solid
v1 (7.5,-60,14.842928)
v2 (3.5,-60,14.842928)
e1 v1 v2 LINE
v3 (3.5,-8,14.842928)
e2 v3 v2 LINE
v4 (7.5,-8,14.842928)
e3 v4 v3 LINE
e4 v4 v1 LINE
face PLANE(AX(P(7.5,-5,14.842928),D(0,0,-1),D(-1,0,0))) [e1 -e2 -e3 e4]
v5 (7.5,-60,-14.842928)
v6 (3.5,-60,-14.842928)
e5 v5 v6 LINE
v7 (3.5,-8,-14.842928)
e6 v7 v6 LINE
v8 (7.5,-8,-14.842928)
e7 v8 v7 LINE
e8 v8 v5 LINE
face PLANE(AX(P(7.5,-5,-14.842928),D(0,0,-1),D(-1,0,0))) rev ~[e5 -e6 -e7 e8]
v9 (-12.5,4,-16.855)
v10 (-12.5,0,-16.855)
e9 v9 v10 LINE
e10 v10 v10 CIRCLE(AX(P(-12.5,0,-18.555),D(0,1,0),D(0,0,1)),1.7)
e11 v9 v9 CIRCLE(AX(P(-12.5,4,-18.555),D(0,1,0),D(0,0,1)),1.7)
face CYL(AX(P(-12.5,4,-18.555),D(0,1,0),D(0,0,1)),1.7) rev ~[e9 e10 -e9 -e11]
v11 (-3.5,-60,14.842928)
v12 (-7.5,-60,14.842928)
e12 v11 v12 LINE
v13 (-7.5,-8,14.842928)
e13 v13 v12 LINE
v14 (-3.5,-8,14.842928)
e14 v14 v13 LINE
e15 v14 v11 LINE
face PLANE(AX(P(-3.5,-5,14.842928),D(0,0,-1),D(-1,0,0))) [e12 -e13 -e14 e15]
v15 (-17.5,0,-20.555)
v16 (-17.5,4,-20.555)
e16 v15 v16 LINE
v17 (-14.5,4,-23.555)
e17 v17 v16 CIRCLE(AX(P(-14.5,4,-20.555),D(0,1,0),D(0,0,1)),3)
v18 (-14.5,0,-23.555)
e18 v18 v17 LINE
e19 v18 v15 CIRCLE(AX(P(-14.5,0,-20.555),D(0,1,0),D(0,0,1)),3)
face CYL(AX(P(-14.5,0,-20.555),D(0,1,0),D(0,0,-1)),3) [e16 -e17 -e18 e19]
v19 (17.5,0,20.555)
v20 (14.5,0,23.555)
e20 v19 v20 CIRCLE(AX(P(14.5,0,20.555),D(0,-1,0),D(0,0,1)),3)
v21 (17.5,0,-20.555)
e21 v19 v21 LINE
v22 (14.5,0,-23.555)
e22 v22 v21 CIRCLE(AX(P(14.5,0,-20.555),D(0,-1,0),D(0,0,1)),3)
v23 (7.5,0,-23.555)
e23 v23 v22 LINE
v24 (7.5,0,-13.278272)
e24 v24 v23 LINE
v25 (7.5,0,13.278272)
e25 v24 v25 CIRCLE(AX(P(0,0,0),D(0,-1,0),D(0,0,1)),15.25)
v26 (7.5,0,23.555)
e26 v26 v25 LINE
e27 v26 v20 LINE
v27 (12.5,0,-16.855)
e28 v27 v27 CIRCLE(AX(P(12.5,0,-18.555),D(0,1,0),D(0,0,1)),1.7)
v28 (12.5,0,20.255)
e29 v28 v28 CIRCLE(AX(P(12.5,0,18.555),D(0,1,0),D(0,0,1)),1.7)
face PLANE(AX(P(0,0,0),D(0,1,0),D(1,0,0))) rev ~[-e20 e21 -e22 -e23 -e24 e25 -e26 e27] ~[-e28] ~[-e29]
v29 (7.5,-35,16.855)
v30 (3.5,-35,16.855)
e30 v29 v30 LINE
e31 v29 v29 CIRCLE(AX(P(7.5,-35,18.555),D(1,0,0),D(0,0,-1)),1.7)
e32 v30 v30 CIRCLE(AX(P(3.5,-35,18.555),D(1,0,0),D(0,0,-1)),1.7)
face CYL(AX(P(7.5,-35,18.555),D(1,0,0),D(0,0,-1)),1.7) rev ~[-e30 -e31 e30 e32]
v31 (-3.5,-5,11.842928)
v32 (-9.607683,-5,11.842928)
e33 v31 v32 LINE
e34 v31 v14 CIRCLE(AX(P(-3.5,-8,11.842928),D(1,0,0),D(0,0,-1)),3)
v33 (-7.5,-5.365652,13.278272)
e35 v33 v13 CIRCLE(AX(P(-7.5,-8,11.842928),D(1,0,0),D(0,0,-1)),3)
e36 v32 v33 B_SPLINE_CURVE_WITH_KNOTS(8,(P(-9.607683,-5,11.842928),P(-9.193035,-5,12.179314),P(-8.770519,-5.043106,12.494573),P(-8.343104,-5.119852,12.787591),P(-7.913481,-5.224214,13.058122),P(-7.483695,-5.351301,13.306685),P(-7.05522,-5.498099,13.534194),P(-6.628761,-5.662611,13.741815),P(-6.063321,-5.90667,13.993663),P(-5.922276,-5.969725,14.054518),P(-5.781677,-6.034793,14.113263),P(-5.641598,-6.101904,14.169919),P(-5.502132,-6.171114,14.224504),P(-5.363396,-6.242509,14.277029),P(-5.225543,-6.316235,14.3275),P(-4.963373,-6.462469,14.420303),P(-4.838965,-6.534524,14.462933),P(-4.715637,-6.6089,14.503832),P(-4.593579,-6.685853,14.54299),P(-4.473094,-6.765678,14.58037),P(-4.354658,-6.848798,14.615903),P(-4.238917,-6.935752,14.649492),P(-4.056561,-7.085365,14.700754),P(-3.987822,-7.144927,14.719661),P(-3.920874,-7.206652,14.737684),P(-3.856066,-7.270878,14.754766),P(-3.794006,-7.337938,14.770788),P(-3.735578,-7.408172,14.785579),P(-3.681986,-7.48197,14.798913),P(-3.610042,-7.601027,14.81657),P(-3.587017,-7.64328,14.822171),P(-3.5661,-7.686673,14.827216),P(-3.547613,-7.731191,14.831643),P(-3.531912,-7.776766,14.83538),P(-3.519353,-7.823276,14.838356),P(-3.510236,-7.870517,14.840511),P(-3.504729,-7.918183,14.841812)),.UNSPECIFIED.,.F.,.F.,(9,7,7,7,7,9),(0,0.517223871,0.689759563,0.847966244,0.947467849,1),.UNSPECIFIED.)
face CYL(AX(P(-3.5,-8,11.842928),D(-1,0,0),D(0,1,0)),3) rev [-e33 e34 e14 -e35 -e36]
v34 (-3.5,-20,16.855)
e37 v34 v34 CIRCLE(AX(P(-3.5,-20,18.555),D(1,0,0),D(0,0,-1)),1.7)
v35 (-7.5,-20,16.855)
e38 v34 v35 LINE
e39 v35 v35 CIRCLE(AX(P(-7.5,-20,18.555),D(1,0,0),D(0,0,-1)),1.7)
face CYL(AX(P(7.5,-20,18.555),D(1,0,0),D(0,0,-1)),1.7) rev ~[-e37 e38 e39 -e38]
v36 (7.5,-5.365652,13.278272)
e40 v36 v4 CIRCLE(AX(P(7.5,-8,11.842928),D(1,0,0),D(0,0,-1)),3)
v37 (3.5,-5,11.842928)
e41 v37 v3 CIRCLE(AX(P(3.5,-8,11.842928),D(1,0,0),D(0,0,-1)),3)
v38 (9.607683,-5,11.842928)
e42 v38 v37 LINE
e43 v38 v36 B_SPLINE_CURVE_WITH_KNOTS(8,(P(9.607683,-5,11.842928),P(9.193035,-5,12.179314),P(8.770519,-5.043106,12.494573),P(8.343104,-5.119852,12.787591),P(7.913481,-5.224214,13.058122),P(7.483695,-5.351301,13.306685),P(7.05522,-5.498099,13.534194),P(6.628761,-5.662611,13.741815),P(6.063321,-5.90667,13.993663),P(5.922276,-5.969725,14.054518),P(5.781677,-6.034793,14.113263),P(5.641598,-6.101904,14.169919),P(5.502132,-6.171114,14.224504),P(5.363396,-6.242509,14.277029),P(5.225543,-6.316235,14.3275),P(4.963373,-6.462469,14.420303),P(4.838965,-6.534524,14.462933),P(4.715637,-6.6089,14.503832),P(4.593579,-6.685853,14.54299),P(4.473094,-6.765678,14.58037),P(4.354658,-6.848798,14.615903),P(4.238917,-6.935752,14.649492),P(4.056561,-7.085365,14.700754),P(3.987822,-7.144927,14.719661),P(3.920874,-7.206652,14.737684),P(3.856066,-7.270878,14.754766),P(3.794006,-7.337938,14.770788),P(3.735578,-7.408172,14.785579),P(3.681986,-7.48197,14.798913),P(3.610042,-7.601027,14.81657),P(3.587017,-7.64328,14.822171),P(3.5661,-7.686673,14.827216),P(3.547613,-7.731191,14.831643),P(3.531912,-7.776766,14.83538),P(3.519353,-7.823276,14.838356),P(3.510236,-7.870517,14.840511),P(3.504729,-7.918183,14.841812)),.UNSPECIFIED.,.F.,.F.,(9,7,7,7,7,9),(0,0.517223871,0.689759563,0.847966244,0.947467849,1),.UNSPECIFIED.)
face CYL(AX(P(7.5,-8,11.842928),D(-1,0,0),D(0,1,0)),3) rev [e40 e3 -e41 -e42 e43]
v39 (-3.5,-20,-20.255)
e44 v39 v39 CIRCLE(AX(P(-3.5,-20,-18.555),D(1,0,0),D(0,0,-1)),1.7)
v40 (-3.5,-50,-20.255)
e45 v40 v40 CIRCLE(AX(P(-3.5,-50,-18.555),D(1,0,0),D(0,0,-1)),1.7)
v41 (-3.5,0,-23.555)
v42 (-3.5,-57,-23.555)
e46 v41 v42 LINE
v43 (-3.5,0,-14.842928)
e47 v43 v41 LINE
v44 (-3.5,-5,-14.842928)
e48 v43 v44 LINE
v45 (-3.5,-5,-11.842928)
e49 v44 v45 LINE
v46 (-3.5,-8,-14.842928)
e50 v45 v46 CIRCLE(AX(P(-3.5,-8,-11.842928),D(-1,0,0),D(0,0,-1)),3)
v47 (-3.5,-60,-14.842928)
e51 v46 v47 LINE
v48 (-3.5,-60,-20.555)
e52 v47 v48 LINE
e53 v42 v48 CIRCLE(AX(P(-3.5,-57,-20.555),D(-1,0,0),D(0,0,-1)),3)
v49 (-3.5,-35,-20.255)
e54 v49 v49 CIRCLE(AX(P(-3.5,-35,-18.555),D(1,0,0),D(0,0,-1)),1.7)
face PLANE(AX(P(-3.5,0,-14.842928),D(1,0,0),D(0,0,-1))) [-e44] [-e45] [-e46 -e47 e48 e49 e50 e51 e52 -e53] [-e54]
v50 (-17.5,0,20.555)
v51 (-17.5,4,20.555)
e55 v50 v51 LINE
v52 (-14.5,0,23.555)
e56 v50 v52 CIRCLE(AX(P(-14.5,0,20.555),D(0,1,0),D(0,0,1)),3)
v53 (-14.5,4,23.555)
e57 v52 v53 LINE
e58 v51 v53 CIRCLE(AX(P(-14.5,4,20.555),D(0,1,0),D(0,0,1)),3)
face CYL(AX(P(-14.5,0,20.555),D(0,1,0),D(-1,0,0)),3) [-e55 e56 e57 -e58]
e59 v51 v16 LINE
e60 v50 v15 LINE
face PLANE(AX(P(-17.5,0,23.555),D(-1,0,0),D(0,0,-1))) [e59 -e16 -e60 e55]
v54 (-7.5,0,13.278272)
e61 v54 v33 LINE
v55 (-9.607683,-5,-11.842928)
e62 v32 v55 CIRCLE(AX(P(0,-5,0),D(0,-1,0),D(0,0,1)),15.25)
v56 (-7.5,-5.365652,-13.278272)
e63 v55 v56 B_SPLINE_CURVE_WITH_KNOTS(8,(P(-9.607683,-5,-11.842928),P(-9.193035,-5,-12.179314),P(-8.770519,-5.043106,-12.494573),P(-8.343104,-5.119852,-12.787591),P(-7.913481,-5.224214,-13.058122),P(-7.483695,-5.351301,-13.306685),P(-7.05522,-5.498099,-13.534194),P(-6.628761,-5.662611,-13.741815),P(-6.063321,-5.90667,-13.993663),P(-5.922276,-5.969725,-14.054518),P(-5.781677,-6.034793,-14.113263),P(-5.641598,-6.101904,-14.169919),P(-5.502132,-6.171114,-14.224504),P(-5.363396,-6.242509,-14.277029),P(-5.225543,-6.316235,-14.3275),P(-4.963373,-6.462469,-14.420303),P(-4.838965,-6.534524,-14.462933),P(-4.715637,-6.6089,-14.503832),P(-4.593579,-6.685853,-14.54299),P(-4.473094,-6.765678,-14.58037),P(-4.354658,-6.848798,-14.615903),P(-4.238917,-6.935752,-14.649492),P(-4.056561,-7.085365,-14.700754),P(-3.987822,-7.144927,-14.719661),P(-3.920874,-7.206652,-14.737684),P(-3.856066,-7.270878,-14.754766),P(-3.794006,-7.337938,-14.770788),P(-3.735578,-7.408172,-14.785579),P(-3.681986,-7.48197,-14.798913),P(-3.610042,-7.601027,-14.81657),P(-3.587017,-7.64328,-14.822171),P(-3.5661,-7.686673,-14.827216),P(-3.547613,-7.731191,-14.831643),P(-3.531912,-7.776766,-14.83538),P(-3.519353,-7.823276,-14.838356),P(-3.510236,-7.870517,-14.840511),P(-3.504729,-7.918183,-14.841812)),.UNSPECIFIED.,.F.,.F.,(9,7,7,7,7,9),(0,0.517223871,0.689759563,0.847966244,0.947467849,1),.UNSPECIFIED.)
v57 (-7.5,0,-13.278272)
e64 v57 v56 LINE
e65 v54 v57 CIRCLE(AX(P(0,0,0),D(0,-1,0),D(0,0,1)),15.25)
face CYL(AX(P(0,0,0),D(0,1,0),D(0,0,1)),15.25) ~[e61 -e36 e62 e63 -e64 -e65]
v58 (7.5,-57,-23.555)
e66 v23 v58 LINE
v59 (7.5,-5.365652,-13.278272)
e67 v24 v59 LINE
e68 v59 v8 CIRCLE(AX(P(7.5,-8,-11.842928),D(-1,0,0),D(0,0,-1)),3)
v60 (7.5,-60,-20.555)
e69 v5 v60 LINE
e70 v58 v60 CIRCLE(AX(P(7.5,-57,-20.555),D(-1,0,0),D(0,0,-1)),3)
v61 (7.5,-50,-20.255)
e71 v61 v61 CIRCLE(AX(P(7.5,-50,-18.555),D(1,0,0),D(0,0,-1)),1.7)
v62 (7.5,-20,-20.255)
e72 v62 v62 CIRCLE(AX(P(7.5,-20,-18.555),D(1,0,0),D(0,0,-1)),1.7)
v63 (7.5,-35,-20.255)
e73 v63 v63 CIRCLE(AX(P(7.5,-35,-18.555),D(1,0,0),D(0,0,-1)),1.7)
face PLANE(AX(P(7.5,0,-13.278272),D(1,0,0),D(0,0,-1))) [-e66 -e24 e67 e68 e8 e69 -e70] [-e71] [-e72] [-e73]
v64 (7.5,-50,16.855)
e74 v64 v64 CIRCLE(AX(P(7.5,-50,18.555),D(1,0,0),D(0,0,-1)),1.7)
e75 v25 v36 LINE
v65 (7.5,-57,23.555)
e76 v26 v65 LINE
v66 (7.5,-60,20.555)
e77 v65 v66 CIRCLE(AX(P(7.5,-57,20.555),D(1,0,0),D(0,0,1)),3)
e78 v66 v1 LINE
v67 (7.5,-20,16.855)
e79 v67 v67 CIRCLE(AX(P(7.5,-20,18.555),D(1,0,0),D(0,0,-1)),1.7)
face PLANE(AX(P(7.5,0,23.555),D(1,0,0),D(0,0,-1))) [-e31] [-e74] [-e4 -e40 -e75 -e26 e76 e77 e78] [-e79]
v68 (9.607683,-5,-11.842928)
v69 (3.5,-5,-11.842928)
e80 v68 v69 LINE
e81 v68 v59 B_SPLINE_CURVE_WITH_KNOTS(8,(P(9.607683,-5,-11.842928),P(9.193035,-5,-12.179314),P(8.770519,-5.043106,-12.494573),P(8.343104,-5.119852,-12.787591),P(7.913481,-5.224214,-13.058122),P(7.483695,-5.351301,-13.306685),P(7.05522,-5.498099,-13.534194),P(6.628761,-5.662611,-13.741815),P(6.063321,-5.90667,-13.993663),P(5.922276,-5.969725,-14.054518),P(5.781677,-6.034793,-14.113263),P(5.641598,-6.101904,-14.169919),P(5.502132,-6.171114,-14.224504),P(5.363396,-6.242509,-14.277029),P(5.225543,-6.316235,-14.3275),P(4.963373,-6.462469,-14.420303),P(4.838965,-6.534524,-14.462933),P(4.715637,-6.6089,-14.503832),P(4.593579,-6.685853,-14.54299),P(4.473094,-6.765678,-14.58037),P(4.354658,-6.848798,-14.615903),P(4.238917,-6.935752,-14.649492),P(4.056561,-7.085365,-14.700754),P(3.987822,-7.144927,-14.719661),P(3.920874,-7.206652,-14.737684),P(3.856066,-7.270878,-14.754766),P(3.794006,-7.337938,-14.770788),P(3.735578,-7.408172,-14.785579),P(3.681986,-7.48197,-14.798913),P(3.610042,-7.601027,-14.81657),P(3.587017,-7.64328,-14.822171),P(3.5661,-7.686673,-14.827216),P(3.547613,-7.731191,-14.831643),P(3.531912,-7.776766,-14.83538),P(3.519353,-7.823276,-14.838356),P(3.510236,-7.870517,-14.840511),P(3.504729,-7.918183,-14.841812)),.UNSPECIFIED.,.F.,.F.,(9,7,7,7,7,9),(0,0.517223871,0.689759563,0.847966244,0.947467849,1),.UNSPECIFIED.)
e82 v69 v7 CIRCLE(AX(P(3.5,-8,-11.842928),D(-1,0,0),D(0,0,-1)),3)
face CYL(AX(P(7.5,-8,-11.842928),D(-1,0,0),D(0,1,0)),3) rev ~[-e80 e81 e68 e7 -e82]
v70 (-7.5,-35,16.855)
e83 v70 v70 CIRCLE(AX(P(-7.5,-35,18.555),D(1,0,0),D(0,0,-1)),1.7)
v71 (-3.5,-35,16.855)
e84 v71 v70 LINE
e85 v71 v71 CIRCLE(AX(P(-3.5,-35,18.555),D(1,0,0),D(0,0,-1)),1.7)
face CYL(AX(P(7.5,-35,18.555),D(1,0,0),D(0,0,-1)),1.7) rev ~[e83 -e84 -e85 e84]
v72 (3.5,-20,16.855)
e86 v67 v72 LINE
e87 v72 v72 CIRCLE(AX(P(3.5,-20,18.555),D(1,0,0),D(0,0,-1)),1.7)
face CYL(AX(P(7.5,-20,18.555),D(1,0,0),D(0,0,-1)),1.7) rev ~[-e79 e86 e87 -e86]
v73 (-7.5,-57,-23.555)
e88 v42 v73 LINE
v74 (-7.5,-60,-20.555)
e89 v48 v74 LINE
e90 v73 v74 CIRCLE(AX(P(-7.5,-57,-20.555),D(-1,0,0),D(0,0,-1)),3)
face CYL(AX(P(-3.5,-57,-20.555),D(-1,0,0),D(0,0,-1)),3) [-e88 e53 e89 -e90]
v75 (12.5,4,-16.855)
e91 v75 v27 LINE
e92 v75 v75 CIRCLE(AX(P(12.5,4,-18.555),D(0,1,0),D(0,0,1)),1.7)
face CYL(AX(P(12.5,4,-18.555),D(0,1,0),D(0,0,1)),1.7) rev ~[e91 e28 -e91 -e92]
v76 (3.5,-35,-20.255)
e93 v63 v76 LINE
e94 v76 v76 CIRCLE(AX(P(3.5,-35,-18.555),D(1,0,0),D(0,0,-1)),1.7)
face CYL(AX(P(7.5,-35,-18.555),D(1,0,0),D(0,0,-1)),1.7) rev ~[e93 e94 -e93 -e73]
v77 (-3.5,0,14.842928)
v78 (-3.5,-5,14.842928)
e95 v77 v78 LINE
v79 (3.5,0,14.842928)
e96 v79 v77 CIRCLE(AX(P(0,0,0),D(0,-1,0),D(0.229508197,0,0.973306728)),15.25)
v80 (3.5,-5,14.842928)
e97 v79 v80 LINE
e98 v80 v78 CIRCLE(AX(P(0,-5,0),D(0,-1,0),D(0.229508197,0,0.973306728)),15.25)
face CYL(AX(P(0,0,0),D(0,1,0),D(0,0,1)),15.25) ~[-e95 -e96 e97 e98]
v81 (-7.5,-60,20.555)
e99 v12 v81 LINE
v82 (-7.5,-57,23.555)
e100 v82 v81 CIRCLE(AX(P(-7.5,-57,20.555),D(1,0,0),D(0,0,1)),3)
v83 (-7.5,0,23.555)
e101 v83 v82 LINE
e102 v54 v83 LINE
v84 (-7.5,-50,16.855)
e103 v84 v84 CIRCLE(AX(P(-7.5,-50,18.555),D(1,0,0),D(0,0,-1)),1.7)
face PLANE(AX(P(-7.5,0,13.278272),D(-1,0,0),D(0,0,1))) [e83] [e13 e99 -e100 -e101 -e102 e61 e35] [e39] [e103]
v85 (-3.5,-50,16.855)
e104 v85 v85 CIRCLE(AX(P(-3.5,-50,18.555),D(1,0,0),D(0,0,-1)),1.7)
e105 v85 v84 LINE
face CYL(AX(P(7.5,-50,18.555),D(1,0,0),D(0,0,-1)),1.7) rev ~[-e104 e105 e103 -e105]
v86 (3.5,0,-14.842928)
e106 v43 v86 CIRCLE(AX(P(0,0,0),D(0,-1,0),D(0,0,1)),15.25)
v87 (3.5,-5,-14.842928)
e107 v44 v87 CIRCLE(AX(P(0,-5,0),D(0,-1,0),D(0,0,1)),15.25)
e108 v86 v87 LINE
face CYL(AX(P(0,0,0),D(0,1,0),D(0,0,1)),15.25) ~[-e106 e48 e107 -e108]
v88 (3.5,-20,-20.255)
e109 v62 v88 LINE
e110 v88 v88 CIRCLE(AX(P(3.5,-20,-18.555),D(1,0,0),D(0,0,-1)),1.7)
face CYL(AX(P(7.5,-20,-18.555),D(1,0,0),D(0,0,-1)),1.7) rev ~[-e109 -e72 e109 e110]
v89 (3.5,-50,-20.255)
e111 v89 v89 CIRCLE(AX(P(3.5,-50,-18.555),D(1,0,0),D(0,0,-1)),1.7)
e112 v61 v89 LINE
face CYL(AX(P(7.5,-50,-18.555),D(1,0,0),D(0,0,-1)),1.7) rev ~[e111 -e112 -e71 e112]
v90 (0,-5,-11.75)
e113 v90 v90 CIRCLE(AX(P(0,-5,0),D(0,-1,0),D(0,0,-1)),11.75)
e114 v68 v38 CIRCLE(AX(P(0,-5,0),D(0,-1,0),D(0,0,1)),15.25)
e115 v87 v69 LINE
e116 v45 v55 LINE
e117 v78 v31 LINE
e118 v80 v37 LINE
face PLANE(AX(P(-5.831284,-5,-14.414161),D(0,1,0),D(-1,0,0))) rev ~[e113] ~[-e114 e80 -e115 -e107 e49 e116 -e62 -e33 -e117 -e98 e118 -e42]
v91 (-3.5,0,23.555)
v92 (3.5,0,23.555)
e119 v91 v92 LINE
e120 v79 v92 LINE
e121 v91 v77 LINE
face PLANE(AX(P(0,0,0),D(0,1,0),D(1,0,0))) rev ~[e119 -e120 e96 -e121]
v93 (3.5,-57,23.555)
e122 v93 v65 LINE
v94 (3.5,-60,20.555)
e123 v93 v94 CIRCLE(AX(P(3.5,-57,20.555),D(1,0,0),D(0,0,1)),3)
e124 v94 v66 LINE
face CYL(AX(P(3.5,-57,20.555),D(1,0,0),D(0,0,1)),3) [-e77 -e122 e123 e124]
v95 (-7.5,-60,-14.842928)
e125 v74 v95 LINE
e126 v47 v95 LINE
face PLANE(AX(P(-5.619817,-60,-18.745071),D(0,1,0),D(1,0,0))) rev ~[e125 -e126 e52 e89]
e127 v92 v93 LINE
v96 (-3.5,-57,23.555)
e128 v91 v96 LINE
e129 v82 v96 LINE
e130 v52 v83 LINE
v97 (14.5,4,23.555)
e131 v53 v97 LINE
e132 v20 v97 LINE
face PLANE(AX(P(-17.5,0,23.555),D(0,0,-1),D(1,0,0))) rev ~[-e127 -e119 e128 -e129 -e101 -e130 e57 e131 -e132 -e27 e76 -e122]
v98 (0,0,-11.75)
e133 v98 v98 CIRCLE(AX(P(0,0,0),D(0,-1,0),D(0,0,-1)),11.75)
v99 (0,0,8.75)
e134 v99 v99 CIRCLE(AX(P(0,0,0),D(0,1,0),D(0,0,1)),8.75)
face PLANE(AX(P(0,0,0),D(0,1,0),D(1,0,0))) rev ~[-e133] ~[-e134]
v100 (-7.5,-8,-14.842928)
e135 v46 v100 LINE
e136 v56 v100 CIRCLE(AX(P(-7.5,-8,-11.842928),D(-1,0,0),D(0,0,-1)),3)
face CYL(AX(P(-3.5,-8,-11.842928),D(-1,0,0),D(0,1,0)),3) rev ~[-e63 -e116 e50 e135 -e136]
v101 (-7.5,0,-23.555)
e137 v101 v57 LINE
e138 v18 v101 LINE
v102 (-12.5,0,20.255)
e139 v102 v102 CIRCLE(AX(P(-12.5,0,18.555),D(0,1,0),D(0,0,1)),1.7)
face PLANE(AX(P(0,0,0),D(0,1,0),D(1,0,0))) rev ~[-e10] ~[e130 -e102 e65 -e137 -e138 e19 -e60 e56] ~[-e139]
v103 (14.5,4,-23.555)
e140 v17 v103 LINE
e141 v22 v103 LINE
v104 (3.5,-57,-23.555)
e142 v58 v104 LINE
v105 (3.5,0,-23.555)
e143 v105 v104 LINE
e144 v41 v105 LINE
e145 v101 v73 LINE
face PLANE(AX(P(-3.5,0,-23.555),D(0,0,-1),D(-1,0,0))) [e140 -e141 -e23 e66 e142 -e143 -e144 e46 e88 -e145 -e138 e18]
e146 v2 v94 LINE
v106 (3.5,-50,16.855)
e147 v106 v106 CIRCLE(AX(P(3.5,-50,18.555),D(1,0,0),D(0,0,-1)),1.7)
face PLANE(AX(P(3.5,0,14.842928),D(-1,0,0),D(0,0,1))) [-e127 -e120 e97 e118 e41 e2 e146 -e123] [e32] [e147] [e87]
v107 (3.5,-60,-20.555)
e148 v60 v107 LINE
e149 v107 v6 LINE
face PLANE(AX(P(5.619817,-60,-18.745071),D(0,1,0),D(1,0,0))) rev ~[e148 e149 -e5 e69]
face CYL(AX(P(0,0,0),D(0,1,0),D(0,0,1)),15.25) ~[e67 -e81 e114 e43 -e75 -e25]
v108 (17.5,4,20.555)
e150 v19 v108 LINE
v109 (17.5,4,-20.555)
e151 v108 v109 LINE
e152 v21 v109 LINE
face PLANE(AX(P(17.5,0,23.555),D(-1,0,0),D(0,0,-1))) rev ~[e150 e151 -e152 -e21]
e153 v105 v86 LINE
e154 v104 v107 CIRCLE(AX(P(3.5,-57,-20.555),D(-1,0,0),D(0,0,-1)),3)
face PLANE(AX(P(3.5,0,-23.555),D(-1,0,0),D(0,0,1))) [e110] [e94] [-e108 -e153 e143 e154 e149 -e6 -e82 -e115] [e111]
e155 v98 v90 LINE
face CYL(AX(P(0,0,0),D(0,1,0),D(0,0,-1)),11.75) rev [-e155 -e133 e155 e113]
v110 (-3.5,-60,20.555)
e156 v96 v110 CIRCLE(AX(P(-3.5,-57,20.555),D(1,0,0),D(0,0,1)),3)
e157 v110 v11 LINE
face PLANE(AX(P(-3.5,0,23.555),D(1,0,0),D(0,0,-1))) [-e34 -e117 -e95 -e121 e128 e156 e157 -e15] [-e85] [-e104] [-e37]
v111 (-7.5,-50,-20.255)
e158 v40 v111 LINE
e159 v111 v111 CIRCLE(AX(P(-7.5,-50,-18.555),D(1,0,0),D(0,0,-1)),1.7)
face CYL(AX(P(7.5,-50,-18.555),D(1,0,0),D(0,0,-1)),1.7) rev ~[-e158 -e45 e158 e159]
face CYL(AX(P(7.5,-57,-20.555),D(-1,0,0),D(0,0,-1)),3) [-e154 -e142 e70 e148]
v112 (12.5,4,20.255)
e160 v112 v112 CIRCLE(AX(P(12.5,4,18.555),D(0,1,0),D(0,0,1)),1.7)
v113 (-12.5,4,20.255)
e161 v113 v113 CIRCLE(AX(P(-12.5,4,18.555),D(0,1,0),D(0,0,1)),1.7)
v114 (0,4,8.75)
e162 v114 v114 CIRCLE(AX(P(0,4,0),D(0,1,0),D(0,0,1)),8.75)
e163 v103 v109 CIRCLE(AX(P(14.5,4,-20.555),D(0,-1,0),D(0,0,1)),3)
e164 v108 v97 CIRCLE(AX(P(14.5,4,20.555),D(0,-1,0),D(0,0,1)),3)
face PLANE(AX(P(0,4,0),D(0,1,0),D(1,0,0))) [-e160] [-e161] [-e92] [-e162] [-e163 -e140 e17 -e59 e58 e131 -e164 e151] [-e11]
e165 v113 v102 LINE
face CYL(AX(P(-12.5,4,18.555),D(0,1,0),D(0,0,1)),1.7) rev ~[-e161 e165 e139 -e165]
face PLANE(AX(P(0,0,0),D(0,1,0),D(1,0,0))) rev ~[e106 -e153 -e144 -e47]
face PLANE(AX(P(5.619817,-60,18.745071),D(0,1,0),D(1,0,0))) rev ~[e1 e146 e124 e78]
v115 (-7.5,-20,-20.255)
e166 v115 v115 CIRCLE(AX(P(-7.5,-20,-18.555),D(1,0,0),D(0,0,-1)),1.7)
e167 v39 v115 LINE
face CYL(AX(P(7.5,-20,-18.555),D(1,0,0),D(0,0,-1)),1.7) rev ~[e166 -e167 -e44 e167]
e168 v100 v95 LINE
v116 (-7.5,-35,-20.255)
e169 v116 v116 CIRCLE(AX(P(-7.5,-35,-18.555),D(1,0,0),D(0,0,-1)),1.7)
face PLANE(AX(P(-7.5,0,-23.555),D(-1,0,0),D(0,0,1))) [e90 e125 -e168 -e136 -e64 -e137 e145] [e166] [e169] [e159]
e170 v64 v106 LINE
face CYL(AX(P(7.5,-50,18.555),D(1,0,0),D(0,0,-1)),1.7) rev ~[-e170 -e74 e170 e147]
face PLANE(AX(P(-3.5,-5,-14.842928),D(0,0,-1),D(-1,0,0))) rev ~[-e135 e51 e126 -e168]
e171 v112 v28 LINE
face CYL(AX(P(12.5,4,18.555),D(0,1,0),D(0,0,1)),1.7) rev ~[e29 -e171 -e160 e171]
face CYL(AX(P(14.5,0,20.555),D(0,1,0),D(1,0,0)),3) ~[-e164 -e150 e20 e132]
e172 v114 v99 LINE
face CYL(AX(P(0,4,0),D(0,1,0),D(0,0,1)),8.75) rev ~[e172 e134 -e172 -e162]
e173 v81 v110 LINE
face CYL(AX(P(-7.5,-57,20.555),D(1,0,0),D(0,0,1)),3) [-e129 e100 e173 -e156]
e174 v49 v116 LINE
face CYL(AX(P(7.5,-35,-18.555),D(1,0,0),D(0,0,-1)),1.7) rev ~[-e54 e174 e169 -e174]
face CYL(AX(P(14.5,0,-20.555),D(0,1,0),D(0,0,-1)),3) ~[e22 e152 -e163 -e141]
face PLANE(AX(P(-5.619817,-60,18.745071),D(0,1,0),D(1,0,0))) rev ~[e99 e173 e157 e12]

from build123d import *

# Parameters (mm, degrees)
SKETCH1_W           = 35
SKETCH1_H           = 47.11
BOSS_EXTRUDE1_DEPTH = 4
SKETCH2_R           = 15.25
SKETCH2_R_2         = 11.75
BOSS_EXTRUDE2_DEPTH = 5
BOSS_EXTRUDE3_DEPTH = 60
CUT_EXTRUDE1_START  = -55
CUT_EXTRUDE1_DEPTH  = 55
SKETCH6_R           = 1.7
CUT_EXTRUDE2_DEPTH  = 60
SKETCH7_R           = 8.75
CUT_EXTRUDE3_DEPTH  = 60
FILLET2_R           = 3
FILLET3_R           = 3
SKETCH10_R          = 1.7
CUT_EXTRUDE4_DEPTH  = 71.406590778
FILLET4_R           = 3


with BuildPart() as part:
    # Sketch1 → Boss-Extrude1 (new body)
    with BuildSketch(Plane(origin=(0, 0, 0), x_dir=(1, 0, 0), z_dir=(0, 1, 0))):
        Rectangle(SKETCH1_W, SKETCH1_H)
    extrude(amount=BOSS_EXTRUDE1_DEPTH)

    # Sketch2 → Boss-Extrude2 (add)
    with BuildSketch(Plane.XZ):
        with Locations(Location((0, 0, 0), (0, 0, 90))):
            Circle(SKETCH2_R)
        with Locations(Location((0, 0, 0), (0, 0, 270))):
            Circle(SKETCH2_R_2, mode=Mode.SUBTRACT)
    extrude(amount=BOSS_EXTRUDE2_DEPTH)

    # Sketch3 → Boss-Extrude3 (add)
    with BuildSketch(Plane(origin=(0, 0, 0), x_dir=(-1, 0, 0), z_dir=(0, -1, 0))):
        with BuildLine():
            Line((7.5, 23.555), (7.5, 13.278271725))
            ThreePointArc((7.5, 13.278271725), (5.555361105, 14.202128819), (3.5, 14.842927609))
            Line((3.5, 14.842927609), (3.5, 23.555))
            Line((3.5, 23.555), (7.5, 23.555))
        make_face()
        with BuildLine():
            Line((-7.5, 23.555), (-3.5, 23.555))
            Line((-3.5, 23.555), (-3.5, 14.842927609))
            ThreePointArc((-3.5, 14.842927609), (-5.555361105, 14.202128819), (-7.5, 13.278271725))
            Line((-7.5, 13.278271725), (-7.5, 23.555))
        make_face()
        with BuildLine():
            Line((-7.5, -23.555), (-7.5, -13.278271725))
            ThreePointArc((-7.5, -13.278271725), (-5.555361105, -14.202128819), (-3.5, -14.842927609))
            Line((-3.5, -14.842927609), (-3.5, -23.555))
            Line((-3.5, -23.555), (-7.5, -23.555))
        make_face()
        with BuildLine():
            Line((3.5, -23.555), (3.5, -14.842927609))
            ThreePointArc((3.5, -14.842927609), (5.555361105, -14.202128819), (7.5, -13.278271725))
            Line((7.5, -13.278271725), (7.5, -23.555))
            Line((7.5, -23.555), (3.5, -23.555))
        make_face()
    extrude(amount=BOSS_EXTRUDE3_DEPTH)

    # Sketch5 → Cut-Extrude1 (cut)
    with BuildSketch(Plane.XZ.offset(60).offset(CUT_EXTRUDE1_START)):
        with BuildLine():
            ThreePointArc((-7.5, -13.278271725), (-5.555361105, -14.202128819), (-3.5, -14.842927609))
            Line((-3.5, -14.842927609), (-7.5, -14.842927609))
            Line((-7.5, -14.842927609), (-7.5, -13.278271725))
        make_face()
        with BuildLine():
            Line((7.5, 14.842927609), (3.5, 14.842927609))
            ThreePointArc((3.5, 14.842927609), (5.555361105, 14.202128819), (7.5, 13.278271725))
            Line((7.5, 13.278271725), (7.5, 14.842927609))
        make_face()
        with BuildLine():
            ThreePointArc((3.5, -14.842927609), (5.555361105, -14.202128819), (7.5, -13.278271725))
            Line((7.5, -13.278271725), (7.5, -14.842927609))
            Line((7.5, -14.842927609), (3.5, -14.842927609))
        make_face()
        with BuildLine():
            Line((-3.5, 14.842927609), (-7.5, 14.842927609))
            Line((-7.5, 14.842927609), (-7.5, 13.278271725))
            ThreePointArc((-7.5, 13.278271725), (-5.555361105, 14.202128819), (-3.5, 14.842927609))
        make_face()
    extrude(amount=CUT_EXTRUDE1_DEPTH, mode=Mode.SUBTRACT)

    # Sketch6 → Cut-Extrude2 (cut)
    with BuildSketch(Plane(origin=(7.5, 0, 0), x_dir=(0, 0, -1), z_dir=(1, 0, 0))):
        with Locations((-18.555, -35)):
            Circle(SKETCH6_R)
        with Locations((-18.555, -20)):
            Circle(SKETCH6_R)
        with Locations((-18.555, -50)):
            Circle(SKETCH6_R)
        with Locations((18.555, -50)):
            Circle(SKETCH6_R)
        with Locations((18.555, -35)):
            Circle(SKETCH6_R)
        with Locations((18.555, -20)):
            Circle(SKETCH6_R)
    extrude(amount=-CUT_EXTRUDE2_DEPTH, mode=Mode.SUBTRACT)

    # Sketch7 → Cut-Extrude3 (cut)
    with BuildSketch(Plane(origin=(0, 4, 0), x_dir=(1, 0, 0), z_dir=(0, 1, 0))):
        with Locations(Location((0, 0, 0), (0, 0, 270))):
            Circle(SKETCH7_R)
    extrude(amount=-CUT_EXTRUDE3_DEPTH, mode=Mode.SUBTRACT)

    # Fillet2
    fillet2_edges = [part.edges().sort_by_distance(p)[0] for p in [
        (5.5, -5, -14.842927609),
        (-5.5, -5, -14.842927609),
        (-5.5, -5, 14.842927609),
        (5.5, -5, 14.842927609),
    ]]
    fillet(fillet2_edges, radius=FILLET2_R)

    # Fillet3
    fillet3_edges = [part.edges().sort_by_distance(p)[0] for p in [
        (-5.5, -60, -23.555),
        (5.5, -60, -23.555),
        (5.5, -60, 23.555),
        (-5.5, -60, 23.555),
    ]]
    fillet(fillet3_edges, radius=FILLET3_R)

    # Sketch10 → Cut-Extrude4 (cut, through all)
    with BuildSketch(Plane(origin=(0, 4, 0), x_dir=(1, 0, 0), z_dir=(0, 1, 0))):
        with Locations(Location((-12.5, 18.555, 0), (0, 0, 270))):
            Circle(SKETCH10_R)
        with Locations(Location((12.5, 18.555, 0), (0, 0, 270))):
            Circle(SKETCH10_R)
        with Locations(Location((12.5, -18.555, 0), (0, 0, 270))):
            Circle(SKETCH10_R)
        with Locations(Location((-12.5, -18.555, 0), (0, 0, 270))):
            Circle(SKETCH10_R)
    extrude(amount=-CUT_EXTRUDE4_DEPTH, mode=Mode.SUBTRACT)

    # Fillet4
    fillet4_edges = [part.edges().sort_by_distance(p)[0] for p in [
        (-17.5, 2, -23.555),
        (17.5, 2, -23.555),
        (17.5, 2, 23.555),
        (-17.5, 2, 23.555),
    ]]
    fillet(fillet4_edges, radius=FILLET4_R)


solid = part.part
